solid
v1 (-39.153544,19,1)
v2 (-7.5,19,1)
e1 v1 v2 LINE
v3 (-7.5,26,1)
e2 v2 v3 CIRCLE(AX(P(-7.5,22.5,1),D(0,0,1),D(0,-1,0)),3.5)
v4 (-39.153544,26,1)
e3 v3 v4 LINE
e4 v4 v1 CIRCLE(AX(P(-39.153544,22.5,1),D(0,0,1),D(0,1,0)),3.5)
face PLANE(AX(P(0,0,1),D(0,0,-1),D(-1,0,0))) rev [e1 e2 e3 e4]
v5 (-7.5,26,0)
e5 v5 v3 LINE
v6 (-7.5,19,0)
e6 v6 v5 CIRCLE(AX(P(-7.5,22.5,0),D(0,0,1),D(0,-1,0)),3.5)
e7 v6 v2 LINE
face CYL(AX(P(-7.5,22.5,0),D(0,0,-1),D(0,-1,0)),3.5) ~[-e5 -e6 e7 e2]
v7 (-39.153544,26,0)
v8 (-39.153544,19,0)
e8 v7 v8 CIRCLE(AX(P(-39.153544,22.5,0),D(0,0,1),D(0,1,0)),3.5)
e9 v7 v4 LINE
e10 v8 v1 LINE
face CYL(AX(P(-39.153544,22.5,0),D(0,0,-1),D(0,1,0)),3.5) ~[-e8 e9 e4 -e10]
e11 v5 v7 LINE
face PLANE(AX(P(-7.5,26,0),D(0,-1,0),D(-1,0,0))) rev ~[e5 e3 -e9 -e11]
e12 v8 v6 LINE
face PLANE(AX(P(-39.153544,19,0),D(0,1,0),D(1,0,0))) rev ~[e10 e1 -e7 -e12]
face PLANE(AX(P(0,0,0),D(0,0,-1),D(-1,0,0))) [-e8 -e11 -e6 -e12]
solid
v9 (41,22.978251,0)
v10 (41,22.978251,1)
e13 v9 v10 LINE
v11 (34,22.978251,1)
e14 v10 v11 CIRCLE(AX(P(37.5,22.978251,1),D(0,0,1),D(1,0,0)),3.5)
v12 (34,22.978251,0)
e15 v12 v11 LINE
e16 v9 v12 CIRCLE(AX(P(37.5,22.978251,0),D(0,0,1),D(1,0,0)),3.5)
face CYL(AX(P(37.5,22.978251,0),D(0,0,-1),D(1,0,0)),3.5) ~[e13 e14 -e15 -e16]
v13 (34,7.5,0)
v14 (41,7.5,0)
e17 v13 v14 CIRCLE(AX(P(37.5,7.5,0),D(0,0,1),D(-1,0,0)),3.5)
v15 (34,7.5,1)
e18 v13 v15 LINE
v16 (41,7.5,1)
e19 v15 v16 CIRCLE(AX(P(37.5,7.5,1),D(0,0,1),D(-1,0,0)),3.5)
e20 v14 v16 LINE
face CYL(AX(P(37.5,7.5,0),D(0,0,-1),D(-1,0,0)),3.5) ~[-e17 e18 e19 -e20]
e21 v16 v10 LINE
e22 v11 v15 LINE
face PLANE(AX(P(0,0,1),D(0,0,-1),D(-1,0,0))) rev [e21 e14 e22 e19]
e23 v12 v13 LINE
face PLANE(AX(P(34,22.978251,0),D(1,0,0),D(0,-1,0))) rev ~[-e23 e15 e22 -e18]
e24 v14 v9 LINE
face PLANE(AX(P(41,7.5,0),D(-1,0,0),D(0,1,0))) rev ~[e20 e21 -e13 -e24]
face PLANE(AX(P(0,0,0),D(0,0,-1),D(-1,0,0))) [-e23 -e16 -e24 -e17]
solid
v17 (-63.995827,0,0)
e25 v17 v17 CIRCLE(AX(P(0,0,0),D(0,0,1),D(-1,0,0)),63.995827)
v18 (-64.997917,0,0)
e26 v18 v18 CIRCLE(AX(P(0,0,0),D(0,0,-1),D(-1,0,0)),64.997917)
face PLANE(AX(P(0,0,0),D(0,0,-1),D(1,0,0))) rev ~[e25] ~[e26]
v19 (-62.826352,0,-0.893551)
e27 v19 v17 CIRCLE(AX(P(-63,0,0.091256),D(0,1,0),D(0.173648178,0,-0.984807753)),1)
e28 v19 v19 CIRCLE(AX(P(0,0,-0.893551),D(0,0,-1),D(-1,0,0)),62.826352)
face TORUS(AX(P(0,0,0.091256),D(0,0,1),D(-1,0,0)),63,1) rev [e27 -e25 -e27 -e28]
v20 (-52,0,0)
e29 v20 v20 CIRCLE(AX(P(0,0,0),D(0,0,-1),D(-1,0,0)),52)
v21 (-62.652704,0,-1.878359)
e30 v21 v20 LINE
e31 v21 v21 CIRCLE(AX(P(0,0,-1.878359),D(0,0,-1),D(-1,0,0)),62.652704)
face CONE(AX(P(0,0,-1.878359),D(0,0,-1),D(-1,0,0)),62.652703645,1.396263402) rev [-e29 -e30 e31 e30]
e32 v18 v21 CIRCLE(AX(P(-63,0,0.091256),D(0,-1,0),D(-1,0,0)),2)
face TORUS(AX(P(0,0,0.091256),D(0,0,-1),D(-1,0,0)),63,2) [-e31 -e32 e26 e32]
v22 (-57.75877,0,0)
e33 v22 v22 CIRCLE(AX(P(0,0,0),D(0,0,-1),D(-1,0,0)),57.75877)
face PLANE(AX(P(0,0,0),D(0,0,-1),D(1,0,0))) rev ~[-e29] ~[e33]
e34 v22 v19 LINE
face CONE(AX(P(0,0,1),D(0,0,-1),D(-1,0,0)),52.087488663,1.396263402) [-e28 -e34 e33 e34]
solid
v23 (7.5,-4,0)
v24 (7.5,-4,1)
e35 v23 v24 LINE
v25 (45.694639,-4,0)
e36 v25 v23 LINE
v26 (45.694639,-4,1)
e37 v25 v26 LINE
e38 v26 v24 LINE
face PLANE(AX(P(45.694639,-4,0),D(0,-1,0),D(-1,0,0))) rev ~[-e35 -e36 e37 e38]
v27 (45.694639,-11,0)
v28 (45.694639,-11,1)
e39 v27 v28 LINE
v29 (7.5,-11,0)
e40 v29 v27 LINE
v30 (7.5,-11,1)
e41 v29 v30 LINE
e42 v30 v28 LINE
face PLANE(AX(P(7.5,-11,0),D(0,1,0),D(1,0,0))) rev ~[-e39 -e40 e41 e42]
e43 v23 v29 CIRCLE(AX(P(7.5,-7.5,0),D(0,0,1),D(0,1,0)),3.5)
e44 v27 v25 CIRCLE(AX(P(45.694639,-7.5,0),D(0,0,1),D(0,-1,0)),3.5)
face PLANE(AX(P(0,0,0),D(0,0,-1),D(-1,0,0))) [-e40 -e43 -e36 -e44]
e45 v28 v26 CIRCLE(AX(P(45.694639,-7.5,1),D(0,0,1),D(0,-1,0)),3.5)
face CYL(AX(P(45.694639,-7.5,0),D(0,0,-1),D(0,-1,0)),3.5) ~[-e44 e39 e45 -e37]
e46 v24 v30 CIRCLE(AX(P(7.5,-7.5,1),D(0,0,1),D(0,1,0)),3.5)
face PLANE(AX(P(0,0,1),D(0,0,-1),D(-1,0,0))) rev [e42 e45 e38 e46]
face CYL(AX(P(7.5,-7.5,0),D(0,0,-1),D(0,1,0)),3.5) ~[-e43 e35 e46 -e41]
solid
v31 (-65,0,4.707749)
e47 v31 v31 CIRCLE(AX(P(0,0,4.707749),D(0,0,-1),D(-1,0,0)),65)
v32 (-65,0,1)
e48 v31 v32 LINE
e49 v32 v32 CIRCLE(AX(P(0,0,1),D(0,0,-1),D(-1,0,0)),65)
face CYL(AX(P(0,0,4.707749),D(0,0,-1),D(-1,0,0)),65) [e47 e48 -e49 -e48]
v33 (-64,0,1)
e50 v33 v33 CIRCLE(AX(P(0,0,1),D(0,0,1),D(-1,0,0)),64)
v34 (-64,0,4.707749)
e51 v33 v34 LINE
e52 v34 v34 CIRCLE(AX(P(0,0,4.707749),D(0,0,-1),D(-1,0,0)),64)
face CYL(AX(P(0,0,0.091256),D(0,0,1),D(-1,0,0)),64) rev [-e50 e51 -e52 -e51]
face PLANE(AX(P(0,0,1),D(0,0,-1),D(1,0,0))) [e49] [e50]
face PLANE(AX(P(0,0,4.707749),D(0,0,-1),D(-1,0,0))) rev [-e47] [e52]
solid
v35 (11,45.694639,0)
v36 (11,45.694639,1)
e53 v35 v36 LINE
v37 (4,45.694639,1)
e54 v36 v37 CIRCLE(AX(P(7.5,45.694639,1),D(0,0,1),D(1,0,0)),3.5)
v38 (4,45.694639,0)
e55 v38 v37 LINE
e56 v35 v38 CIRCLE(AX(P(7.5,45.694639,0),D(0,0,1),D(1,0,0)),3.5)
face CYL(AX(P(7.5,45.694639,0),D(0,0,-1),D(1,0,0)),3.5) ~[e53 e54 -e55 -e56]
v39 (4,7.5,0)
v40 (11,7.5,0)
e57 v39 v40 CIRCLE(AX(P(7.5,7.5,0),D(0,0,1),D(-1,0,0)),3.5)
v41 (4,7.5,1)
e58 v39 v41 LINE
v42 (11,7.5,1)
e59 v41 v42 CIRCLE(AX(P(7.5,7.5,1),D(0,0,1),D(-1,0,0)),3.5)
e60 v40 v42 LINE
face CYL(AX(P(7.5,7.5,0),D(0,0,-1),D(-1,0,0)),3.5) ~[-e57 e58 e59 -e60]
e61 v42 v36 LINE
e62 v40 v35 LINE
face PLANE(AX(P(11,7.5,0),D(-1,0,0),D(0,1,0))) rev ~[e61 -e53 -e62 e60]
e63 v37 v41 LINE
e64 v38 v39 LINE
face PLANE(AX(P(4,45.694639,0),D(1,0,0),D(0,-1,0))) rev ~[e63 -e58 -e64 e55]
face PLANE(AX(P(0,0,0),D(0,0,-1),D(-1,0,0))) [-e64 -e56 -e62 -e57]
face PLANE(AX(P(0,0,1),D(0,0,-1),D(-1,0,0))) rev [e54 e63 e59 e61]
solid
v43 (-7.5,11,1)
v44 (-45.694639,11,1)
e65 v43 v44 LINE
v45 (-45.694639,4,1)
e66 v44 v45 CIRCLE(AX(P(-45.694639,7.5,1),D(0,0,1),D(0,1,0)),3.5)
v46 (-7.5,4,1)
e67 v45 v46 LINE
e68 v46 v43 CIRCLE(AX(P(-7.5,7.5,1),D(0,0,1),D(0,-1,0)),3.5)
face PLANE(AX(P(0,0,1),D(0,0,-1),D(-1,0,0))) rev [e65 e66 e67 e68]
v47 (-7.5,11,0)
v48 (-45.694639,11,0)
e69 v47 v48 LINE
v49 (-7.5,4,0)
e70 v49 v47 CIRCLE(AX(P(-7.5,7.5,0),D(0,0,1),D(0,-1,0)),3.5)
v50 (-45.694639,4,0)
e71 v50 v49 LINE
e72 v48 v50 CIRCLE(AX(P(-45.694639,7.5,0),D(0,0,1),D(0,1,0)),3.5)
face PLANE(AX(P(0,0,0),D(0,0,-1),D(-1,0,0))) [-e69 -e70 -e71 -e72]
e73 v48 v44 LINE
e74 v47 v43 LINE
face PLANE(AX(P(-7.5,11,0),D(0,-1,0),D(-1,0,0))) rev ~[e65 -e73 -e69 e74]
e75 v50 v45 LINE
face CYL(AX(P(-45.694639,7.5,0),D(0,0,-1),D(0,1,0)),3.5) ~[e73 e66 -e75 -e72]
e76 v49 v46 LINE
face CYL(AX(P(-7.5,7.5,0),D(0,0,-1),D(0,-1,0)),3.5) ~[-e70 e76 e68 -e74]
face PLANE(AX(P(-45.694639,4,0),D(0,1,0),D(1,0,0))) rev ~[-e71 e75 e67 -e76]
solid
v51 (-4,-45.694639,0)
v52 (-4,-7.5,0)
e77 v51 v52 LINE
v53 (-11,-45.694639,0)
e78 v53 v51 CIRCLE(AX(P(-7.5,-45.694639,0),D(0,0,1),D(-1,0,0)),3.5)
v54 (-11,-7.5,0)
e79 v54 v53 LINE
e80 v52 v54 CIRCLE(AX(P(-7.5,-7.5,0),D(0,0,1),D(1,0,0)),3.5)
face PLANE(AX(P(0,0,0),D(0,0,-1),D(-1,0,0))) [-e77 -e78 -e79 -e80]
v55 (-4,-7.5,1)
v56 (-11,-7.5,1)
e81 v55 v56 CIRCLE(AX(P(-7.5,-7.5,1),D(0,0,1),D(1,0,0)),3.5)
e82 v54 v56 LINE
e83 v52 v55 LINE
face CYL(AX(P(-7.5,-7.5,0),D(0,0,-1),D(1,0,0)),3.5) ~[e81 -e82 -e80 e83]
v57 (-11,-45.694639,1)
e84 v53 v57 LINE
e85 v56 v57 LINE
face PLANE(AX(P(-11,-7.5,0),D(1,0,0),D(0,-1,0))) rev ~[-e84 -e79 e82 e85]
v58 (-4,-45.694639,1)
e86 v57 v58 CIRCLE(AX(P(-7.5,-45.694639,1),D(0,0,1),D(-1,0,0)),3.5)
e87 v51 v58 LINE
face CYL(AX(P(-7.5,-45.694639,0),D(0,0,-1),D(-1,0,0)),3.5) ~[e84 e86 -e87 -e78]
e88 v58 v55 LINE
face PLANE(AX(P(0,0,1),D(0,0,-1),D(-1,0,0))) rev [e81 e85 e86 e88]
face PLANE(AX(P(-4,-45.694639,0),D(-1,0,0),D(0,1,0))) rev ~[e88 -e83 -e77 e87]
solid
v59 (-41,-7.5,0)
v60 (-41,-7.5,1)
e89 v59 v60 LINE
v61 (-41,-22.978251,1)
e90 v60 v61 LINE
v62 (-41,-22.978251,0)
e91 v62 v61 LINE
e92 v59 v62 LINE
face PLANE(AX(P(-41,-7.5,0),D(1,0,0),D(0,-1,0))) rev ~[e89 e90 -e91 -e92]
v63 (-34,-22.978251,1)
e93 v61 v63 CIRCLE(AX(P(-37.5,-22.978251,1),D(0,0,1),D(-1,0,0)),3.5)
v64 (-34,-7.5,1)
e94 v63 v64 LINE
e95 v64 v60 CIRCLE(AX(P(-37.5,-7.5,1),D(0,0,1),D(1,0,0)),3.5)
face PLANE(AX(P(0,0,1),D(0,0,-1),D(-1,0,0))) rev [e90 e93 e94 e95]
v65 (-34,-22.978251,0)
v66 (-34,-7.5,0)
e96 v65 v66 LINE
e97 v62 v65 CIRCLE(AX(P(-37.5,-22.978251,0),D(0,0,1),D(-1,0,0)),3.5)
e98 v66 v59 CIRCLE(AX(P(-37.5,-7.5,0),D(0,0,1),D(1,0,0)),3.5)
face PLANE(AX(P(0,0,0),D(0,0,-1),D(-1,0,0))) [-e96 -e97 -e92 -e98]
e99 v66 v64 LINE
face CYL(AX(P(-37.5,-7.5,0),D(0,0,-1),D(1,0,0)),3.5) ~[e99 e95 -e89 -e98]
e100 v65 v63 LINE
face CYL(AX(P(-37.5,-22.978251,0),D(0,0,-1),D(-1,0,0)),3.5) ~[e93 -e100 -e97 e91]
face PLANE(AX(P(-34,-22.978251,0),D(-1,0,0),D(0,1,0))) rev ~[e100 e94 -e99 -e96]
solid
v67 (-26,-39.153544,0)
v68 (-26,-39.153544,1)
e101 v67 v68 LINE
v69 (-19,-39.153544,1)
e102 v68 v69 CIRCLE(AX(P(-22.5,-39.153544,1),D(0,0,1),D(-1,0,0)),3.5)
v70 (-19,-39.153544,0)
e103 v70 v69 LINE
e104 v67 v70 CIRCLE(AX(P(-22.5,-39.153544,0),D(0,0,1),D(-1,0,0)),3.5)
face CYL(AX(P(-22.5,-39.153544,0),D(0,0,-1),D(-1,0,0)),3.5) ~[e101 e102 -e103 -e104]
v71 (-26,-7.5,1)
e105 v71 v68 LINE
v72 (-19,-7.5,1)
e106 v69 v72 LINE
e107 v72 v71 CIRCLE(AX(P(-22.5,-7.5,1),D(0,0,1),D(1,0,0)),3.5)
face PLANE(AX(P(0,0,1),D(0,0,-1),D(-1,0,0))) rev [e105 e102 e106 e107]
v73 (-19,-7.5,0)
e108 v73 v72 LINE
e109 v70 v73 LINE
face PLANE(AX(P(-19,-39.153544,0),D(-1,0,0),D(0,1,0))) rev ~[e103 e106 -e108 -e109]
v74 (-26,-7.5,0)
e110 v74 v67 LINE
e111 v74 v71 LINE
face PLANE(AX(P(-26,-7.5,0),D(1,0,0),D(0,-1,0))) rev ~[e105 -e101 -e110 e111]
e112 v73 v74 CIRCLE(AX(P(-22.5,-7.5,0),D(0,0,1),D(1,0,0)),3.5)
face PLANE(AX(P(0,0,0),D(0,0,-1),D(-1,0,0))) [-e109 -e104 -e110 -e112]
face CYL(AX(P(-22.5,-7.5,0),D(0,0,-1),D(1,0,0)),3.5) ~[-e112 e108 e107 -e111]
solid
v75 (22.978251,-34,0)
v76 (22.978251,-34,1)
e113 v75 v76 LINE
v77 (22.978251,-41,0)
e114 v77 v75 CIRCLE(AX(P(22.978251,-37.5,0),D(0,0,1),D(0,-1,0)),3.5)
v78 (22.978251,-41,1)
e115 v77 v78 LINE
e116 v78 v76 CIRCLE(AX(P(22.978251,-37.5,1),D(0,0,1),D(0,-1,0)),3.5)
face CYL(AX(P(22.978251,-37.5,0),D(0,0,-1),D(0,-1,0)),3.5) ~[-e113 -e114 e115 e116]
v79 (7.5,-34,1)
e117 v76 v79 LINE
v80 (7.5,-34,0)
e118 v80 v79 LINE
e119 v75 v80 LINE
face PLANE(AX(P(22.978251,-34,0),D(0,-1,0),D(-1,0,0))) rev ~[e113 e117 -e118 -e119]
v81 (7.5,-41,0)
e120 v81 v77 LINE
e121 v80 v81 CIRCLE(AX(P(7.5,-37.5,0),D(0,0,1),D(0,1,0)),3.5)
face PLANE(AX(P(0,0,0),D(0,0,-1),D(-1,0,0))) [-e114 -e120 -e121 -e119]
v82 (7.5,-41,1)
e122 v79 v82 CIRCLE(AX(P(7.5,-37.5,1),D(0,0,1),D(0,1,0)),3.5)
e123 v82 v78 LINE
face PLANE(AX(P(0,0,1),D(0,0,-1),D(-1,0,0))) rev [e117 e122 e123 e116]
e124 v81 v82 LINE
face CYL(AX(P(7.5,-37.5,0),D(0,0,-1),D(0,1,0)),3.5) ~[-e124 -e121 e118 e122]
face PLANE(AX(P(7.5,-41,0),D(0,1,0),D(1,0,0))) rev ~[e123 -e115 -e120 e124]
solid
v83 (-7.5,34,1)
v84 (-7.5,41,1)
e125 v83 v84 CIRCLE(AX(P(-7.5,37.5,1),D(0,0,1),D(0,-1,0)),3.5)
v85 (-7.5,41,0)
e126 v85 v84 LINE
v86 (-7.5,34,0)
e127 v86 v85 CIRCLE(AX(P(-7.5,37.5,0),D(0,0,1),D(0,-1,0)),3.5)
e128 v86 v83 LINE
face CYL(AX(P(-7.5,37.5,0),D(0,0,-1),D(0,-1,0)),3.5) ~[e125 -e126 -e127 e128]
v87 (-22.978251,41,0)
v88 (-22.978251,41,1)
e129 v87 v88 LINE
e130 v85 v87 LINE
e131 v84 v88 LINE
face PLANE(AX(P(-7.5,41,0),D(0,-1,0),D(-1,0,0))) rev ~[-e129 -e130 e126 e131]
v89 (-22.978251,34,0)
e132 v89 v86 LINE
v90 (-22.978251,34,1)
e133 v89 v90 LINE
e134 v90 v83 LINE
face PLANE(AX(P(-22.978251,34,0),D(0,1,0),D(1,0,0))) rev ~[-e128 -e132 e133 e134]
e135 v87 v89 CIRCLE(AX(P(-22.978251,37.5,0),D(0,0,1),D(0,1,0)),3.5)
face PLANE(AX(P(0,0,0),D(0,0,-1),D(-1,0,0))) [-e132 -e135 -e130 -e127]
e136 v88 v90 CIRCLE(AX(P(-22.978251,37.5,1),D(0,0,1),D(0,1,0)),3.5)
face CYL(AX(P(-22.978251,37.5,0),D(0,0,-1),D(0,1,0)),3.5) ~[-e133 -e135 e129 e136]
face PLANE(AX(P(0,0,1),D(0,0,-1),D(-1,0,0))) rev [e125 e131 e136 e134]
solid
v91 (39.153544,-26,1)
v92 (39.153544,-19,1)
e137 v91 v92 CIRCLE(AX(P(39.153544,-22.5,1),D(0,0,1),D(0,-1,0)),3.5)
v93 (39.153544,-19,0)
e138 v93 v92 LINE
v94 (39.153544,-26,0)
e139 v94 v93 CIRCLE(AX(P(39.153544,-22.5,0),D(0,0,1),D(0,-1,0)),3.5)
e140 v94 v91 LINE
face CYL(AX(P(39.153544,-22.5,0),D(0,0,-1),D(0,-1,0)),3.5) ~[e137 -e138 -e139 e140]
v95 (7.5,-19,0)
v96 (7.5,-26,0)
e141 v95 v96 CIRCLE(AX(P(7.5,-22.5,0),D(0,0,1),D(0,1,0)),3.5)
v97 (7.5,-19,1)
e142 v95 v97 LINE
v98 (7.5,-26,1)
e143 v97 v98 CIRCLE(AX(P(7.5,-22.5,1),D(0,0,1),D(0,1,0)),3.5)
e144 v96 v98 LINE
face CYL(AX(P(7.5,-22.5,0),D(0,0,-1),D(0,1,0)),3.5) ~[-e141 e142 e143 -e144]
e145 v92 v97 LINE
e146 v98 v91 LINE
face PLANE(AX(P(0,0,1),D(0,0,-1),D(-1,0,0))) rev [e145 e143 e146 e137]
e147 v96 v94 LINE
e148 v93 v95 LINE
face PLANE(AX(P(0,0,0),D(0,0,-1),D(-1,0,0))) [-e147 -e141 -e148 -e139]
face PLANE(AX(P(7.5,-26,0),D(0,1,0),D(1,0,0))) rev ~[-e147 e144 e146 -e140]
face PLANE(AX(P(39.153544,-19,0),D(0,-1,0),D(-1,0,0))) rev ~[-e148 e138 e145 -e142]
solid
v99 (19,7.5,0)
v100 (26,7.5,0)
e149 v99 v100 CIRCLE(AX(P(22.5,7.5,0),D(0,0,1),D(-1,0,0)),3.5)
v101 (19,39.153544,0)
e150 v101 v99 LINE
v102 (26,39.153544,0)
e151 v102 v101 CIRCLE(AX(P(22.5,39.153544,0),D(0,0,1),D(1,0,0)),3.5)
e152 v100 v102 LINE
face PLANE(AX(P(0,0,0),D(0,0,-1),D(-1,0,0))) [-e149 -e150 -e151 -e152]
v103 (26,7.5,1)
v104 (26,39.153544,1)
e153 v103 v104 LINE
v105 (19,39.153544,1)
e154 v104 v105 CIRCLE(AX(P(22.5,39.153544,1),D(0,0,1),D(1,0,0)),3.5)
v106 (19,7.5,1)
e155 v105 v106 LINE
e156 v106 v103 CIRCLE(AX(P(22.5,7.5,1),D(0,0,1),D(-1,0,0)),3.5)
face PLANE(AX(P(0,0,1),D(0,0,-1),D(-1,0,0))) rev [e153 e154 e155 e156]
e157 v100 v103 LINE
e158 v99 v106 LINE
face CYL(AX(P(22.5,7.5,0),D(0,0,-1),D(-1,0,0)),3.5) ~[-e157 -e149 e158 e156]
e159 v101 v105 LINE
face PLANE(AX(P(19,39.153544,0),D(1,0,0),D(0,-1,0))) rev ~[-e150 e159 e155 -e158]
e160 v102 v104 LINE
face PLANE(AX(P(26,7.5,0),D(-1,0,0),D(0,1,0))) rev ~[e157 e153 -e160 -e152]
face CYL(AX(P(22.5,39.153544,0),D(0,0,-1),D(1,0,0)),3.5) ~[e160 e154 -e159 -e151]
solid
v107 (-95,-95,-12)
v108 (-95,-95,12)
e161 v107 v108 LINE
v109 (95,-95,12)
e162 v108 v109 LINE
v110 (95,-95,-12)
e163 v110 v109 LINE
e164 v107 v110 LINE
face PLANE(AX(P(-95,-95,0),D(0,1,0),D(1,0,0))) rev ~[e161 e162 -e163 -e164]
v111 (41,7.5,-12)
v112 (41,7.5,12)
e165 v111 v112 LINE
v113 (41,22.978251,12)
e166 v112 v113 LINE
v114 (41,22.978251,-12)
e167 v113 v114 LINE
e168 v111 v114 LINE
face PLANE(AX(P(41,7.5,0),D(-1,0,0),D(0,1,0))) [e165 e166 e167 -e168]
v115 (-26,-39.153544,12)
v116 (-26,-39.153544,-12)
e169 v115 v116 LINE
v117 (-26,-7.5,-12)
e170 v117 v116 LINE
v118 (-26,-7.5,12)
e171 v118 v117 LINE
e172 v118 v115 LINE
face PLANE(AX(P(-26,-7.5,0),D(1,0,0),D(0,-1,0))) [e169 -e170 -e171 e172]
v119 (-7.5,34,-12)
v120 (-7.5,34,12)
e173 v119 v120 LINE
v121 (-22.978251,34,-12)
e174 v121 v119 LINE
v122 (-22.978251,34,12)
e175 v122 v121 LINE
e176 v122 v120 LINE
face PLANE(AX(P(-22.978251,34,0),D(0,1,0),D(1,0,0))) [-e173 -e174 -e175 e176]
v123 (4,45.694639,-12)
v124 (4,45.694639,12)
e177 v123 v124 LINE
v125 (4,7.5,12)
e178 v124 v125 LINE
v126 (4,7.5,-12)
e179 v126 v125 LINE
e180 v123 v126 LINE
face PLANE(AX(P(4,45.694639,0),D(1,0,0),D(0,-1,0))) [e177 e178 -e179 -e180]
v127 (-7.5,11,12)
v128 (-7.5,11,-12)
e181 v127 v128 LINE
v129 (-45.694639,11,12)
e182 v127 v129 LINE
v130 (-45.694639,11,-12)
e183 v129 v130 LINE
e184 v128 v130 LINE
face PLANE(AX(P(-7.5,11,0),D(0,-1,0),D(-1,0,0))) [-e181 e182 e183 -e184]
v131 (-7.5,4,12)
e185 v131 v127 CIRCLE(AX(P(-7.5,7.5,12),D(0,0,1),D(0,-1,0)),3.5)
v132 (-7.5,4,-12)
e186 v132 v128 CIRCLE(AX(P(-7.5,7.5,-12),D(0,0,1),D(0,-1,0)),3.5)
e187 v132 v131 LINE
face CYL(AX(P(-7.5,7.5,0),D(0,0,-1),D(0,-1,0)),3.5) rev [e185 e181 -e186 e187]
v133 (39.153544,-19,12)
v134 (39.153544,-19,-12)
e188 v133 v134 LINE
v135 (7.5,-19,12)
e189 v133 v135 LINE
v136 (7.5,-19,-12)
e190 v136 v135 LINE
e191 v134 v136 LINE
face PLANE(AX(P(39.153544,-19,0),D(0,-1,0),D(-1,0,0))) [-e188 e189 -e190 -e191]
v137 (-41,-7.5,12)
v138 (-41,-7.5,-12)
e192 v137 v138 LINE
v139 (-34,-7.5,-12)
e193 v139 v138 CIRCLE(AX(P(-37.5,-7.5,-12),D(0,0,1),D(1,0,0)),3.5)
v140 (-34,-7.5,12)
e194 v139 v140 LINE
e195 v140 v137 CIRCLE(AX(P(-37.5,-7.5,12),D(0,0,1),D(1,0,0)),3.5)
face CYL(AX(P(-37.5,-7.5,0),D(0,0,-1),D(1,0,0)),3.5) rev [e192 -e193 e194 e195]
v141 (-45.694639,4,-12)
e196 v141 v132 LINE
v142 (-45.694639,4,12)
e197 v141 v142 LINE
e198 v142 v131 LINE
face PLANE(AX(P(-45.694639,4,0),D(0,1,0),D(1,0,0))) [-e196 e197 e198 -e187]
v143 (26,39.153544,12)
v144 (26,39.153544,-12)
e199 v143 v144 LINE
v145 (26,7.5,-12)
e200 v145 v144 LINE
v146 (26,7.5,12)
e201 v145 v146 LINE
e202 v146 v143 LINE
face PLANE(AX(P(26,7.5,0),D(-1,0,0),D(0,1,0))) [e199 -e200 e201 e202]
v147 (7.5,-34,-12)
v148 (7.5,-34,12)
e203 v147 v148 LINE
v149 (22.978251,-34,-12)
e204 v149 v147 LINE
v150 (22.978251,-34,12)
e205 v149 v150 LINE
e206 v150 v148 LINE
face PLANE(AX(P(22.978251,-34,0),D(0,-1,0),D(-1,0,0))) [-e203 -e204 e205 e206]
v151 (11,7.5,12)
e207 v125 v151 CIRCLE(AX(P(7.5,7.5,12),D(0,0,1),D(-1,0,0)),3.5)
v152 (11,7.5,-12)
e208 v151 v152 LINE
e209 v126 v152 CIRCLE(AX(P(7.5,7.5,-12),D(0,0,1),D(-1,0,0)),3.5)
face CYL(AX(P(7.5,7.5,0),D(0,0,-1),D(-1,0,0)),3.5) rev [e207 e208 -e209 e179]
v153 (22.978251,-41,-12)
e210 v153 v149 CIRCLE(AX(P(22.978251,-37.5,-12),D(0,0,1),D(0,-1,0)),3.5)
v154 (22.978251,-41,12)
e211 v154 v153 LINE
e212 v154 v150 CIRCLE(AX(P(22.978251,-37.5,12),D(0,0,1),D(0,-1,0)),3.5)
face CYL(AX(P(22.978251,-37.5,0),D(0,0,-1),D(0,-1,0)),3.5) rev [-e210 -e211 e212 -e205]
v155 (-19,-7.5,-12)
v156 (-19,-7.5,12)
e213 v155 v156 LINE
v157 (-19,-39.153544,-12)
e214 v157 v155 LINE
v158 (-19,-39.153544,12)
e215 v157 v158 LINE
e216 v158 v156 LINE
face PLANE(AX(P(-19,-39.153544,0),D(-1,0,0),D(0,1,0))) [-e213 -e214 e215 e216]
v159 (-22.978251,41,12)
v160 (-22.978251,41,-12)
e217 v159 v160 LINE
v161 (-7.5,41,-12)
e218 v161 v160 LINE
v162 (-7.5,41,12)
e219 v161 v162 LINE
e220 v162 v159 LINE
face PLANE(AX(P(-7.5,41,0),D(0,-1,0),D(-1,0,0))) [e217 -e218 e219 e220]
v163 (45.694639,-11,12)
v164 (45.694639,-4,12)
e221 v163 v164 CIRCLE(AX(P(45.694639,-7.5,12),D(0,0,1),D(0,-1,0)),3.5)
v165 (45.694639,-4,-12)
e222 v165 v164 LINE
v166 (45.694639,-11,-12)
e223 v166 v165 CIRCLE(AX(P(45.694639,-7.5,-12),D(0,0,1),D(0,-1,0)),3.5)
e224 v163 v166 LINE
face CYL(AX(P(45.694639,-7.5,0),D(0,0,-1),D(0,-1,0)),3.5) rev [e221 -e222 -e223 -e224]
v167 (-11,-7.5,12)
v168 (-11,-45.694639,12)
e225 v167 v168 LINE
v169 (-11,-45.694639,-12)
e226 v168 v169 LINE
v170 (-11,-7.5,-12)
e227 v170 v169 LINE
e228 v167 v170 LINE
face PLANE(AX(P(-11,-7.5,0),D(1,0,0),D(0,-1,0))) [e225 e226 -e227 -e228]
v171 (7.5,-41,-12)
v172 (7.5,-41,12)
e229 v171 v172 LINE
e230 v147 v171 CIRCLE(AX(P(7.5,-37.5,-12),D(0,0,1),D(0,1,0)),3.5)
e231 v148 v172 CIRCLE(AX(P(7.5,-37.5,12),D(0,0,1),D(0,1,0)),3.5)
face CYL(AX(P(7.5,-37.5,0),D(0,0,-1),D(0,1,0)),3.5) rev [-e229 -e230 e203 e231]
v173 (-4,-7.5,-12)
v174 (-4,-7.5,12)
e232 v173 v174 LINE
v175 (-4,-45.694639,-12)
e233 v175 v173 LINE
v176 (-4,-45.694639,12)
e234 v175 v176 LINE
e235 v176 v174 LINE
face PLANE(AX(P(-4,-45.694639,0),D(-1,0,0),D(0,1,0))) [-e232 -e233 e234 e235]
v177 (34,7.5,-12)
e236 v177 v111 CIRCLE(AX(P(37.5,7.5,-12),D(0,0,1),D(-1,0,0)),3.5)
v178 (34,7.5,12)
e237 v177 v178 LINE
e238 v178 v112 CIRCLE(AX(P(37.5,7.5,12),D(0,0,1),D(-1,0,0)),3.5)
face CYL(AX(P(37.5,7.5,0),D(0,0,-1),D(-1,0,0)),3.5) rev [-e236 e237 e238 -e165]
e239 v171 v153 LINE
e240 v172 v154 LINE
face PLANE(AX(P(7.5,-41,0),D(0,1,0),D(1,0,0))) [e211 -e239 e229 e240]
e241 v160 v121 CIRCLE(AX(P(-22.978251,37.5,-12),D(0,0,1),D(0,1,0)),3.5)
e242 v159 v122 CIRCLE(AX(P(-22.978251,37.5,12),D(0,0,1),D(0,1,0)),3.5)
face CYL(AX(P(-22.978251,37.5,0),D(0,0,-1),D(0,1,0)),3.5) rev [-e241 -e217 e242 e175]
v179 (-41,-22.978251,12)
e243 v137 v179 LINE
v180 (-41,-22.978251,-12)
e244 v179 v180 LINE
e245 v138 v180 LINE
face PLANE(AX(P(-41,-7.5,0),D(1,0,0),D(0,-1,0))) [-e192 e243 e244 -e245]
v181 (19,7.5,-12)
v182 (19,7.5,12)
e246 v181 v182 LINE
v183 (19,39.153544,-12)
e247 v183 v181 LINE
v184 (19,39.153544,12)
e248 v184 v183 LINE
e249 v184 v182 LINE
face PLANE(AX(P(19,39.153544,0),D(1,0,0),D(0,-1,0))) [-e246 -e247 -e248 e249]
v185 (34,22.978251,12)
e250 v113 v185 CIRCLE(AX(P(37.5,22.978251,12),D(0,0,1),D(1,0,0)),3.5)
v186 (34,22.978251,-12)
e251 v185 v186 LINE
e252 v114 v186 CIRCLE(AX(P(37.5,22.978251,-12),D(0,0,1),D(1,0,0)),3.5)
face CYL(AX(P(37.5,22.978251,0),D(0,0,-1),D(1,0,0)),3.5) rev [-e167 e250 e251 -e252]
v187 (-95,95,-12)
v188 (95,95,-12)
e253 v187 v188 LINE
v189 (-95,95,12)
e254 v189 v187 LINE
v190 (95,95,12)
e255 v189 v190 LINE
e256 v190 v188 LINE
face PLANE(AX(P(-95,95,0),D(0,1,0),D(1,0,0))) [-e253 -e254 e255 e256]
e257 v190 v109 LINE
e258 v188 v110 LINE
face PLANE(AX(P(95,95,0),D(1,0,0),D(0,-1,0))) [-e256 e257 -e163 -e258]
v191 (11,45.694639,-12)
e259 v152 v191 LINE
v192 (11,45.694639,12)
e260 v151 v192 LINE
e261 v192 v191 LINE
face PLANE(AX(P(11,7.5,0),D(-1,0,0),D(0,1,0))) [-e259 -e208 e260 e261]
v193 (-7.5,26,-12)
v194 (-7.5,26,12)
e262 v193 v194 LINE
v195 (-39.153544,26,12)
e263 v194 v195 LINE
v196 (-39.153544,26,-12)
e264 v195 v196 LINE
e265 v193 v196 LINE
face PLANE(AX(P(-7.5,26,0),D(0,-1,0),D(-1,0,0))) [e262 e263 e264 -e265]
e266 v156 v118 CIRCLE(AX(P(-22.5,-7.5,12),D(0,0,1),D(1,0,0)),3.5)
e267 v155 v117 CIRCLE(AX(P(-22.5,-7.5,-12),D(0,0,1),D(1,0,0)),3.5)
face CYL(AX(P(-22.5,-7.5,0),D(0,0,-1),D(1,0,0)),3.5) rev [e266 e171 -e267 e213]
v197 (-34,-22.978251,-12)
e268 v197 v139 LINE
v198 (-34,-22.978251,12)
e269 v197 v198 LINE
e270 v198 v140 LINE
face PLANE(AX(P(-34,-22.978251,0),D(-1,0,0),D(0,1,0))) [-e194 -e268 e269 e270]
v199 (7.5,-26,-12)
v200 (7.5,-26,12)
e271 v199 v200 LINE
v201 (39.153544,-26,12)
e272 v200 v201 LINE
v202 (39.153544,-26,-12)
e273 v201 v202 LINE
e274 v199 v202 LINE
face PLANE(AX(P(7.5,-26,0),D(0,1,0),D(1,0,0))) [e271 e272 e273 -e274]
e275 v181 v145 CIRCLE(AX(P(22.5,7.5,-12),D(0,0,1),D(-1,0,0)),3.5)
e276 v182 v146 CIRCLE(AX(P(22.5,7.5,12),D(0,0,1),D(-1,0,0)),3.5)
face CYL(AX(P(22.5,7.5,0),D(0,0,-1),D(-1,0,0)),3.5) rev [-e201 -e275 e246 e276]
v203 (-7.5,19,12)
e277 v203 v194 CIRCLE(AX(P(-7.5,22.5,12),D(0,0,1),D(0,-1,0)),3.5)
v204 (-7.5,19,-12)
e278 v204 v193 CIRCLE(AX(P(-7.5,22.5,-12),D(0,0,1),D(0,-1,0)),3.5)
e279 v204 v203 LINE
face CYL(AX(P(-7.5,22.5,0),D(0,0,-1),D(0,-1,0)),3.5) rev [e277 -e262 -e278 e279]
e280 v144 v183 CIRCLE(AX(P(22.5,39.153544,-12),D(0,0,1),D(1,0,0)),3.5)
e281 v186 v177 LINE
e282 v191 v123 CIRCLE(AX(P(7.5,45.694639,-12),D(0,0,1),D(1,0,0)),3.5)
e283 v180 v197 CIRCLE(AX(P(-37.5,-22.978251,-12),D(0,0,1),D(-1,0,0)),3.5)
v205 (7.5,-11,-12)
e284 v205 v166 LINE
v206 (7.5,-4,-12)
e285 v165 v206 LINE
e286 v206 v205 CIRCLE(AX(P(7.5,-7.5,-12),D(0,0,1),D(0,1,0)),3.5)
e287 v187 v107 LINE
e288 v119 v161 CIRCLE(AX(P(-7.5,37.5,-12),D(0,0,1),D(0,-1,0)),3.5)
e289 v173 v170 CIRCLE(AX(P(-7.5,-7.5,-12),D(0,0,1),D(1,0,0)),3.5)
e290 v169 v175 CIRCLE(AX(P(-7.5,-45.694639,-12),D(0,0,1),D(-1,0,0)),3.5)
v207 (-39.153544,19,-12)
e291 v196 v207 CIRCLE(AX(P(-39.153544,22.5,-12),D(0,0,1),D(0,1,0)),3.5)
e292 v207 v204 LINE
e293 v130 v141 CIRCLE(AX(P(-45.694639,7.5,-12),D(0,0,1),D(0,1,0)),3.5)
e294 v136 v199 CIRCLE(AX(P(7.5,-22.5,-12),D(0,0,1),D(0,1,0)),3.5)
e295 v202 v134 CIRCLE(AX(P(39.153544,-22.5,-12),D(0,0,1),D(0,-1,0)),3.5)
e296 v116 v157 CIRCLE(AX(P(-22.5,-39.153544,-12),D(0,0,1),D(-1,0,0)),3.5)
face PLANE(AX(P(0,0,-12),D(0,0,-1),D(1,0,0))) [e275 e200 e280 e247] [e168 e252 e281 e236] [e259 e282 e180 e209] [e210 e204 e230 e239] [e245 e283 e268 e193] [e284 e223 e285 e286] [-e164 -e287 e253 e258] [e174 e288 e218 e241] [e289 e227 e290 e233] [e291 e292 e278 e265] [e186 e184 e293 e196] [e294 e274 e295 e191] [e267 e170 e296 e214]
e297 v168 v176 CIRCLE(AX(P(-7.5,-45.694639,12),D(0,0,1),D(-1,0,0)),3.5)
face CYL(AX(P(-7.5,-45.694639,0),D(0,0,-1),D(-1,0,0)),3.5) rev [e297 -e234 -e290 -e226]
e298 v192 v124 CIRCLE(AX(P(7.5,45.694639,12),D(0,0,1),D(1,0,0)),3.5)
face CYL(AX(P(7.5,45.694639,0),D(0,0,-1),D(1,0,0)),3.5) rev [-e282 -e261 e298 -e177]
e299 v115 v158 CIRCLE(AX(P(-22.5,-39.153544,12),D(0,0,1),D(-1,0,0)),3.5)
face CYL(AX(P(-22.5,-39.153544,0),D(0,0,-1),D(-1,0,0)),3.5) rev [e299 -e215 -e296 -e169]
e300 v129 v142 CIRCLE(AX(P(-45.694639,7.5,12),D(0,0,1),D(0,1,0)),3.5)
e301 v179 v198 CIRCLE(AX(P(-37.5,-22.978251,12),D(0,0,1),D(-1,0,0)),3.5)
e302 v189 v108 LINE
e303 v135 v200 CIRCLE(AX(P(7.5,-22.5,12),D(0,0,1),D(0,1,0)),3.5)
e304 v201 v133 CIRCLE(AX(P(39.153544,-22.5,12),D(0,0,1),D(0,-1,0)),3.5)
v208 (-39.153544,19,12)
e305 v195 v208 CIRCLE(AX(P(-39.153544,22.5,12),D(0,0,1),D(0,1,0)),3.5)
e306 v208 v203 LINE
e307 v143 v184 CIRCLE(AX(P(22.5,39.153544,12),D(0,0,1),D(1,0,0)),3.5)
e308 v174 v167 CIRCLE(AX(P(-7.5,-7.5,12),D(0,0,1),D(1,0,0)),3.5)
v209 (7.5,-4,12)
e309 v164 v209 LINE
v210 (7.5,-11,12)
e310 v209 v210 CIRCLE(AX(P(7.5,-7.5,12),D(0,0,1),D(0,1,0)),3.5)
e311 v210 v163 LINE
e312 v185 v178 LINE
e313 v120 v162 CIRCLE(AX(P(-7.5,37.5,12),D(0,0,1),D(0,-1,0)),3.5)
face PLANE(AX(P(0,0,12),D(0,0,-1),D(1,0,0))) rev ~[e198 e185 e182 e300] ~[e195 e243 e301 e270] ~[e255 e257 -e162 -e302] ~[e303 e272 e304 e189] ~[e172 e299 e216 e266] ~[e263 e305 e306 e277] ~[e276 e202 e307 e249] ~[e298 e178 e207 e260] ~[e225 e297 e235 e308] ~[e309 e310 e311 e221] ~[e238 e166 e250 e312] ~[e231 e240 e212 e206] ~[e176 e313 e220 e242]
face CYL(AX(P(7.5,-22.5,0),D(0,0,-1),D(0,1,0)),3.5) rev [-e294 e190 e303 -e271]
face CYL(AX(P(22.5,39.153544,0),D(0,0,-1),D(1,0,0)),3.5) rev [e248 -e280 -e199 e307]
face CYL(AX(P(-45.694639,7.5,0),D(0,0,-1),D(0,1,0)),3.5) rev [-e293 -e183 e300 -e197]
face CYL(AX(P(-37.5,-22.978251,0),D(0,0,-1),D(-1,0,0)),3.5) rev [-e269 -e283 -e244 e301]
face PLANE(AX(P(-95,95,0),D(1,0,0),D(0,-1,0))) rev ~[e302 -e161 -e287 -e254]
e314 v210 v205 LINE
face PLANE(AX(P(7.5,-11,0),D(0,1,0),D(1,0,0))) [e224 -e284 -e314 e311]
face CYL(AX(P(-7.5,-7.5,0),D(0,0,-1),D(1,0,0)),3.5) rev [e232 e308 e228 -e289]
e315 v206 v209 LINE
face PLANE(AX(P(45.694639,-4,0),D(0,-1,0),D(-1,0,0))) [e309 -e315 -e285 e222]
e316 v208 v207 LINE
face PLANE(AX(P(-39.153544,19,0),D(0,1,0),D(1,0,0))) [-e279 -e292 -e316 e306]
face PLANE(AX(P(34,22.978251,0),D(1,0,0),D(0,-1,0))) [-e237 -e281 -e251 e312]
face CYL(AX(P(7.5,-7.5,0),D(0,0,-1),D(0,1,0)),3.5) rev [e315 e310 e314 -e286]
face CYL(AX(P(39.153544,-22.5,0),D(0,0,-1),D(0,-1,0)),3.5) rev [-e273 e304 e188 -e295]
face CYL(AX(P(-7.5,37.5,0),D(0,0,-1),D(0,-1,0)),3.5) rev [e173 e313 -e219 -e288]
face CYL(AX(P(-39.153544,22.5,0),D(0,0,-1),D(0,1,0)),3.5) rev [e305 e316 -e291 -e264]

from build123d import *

# Parameters (mm, degrees)
F6_W     = 190
F6_H     = 190
F7_DEPTH = 1
F8_DEPTH = 12


with BuildPart() as f2:
    # F0 (on Top) → F2 (revolve)
    with BuildSketch(Plane.XY):
        Polygon((20.4473696649, 3.5921053495), (20.4473696649, 0), (50.5868457019, 0), (50.5868457019, 2.7842106991), (49.9868457019, 2.7842106991), (49.9868457019, 0.6), (21.0473696649, 0.6), (21.0473696649, 4.1921053495), (16.9026321679, 4.1921053495), (16.9026321679, 8.0605266564), (12.1578937396, 8.0605266564), (12.1578937396, 7.4605266564), (16.3026321679, 7.4605266564), (16.3026321679, 3.5921053495), align=None)
    revolve(axis=Axis((0, 5.4080549162, 0), (0, -1, 0)))


with BuildPart() as f5:
    # F4 (on Front) → F5 (revolve)
    with BuildSketch(Plane.XZ):
        with BuildLine():
            Line((-62.6527036447, -1.87835907), (-52, 0))
            Line((-52, 0), (0, 0))
            Line((0, 0), (0, 1))
            Line((0, 1), (-52.0874886635, 1))
            Line((-52.0874886635, 1), (-62.8263518223, -0.893551317))
            ThreePointArc((-62.8263518223, -0.893551317), (-63.6427876097, -0.6747880071), (-64, 0.091256436))
            Line((-64, 0.091256436), (-64, 4.7077492508))
            Line((-64, 4.7077492508), (-65, 4.7077492508))
            Line((-65, 4.7077492508), (-65, 0.091256436))
            ThreePointArc((-65, 0.091256436), (-64.2855752194, -1.4408324503), (-62.6527036447, -1.87835907))
        make_face()
    revolve(axis=Axis((0, 0, -2.1538473566), (0, 0, -1)))

    # F6 (on face) → F7 (cut)
    with BuildSketch(Plane(origin=(0, 0, 0), x_dir=(1, 0, 0), z_dir=(0, 0, -1))):
        Rectangle(F6_W, F6_H)
        with BuildLine():
            ThreePointArc((-22.9782505862, -41), (-26.4782505862, -37.5), (-22.9782505862, -34))
            Line((-22.9782505862, -34), (-7.5, -34))
            ThreePointArc((-7.5, -34), (-4, -37.5), (-7.5, -41))
            Line((-7.5, -41), (-22.9782505862, -41))
        make_face(mode=Mode.SUBTRACT)
        with BuildLine():
            Line((-7.5, -11), (-45.6946386352, -11))
            ThreePointArc((-45.6946386352, -11), (-49.1946386352, -7.5), (-45.6946386352, -4))
            Line((-45.6946386352, -4), (-7.5, -4))
            ThreePointArc((-7.5, -4), (-4, -7.5), (-7.5, -11))
        make_face(mode=Mode.SUBTRACT)
        with BuildLine():
            ThreePointArc((-39.1535439009, -26), (-42.6535439009, -22.5), (-39.1535439009, -19))
            Line((-39.1535439009, -19), (-7.5, -19))
            ThreePointArc((-7.5, -19), (-4, -22.5), (-7.5, -26))
            Line((-7.5, -26), (-39.1535439009, -26))
        make_face(mode=Mode.SUBTRACT)
        with BuildLine():
            Line((11, -7.5), (11, -45.6946386352))
            ThreePointArc((11, -45.6946386352), (7.5, -49.1946386352), (4, -45.6946386352))
            Line((4, -45.6946386352), (4, -7.5))
            ThreePointArc((4, -7.5), (7.5, -4), (11, -7.5))
        make_face(mode=Mode.SUBTRACT)
        with BuildLine():
            ThreePointArc((26, -39.1535439009), (22.5, -42.6535439009), (19, -39.1535439009))
            Line((19, -39.1535439009), (19, -7.5))
            ThreePointArc((19, -7.5), (22.5, -4), (26, -7.5))
            Line((26, -7.5), (26, -39.1535439009))
        make_face(mode=Mode.SUBTRACT)
        with BuildLine():
            ThreePointArc((41, -22.9782505862), (37.5, -26.4782505862), (34, -22.9782505862))
            Line((34, -22.9782505862), (34, -7.5))
            ThreePointArc((34, -7.5), (37.5, -4), (41, -7.5))
            Line((41, -7.5), (41, -22.9782505862))
        make_face(mode=Mode.SUBTRACT)
        with BuildLine():
            Line((-41, 7.5), (-41, 22.9782505862))
            ThreePointArc((-41, 22.9782505862), (-37.5, 26.4782505862), (-34, 22.9782505862))
            Line((-34, 22.9782505862), (-34, 7.5))
            ThreePointArc((-34, 7.5), (-37.5, 4), (-41, 7.5))
        make_face(mode=Mode.SUBTRACT)
        with BuildLine():
            Line((-26, 7.5), (-26, 39.1535439009))
            ThreePointArc((-26, 39.1535439009), (-22.5, 42.6535439009), (-19, 39.1535439009))
            Line((-19, 39.1535439009), (-19, 7.5))
            ThreePointArc((-19, 7.5), (-22.5, 4), (-26, 7.5))
        make_face(mode=Mode.SUBTRACT)
        with BuildLine():
            Line((-11, 7.5), (-11, 45.6946386352))
            ThreePointArc((-11, 45.6946386352), (-7.5, 49.1946386352), (-4, 45.6946386352))
            Line((-4, 45.6946386352), (-4, 7.5))
            ThreePointArc((-4, 7.5), (-7.5, 4), (-11, 7.5))
        make_face(mode=Mode.SUBTRACT)
        with BuildLine():
            ThreePointArc((39.1535439009, 26), (42.6535439009, 22.5), (39.1535439009, 19))
            Line((39.1535439009, 19), (7.5, 19))
            ThreePointArc((7.5, 19), (4, 22.5), (7.5, 26))
            Line((7.5, 26), (39.1535439009, 26))
        make_face(mode=Mode.SUBTRACT)
        with BuildLine():
            Line((7.5, 11), (45.6946386352, 11))
            ThreePointArc((45.6946386352, 11), (49.1946386352, 7.5), (45.6946386352, 4))
            Line((45.6946386352, 4), (7.5, 4))
            ThreePointArc((7.5, 4), (4, 7.5), (7.5, 11))
        make_face(mode=Mode.SUBTRACT)
        with BuildLine():
            ThreePointArc((22.9782505862, 41), (26.4782505862, 37.5), (22.9782505862, 34))
            Line((22.9782505862, 34), (7.5, 34))
            ThreePointArc((7.5, 34), (4, 37.5), (7.5, 41))
            Line((7.5, 41), (22.9782505862, 41))
        make_face(mode=Mode.SUBTRACT)
    extrude(amount=-F7_DEPTH, mode=Mode.SUBTRACT)


with BuildPart() as f8:
    # F6 (on face) → F8 (new body, symmetric)
    with BuildSketch(Plane(origin=(0, 0, 0), x_dir=(1, 0, 0), z_dir=(0, 0, -1))):
        Rectangle(F6_W, F6_H)
        with BuildLine():
            ThreePointArc((-22.9782505862, -41), (-26.4782505862, -37.5), (-22.9782505862, -34))
            Line((-22.9782505862, -34), (-7.5, -34))
            ThreePointArc((-7.5, -34), (-4, -37.5), (-7.5, -41))
            Line((-7.5, -41), (-22.9782505862, -41))
        make_face(mode=Mode.SUBTRACT)
        with BuildLine():
            Line((-7.5, -11), (-45.6946386352, -11))
            ThreePointArc((-45.6946386352, -11), (-49.1946386352, -7.5), (-45.6946386352, -4))
            Line((-45.6946386352, -4), (-7.5, -4))
            ThreePointArc((-7.5, -4), (-4, -7.5), (-7.5, -11))
        make_face(mode=Mode.SUBTRACT)
        with BuildLine():
            ThreePointArc((-39.1535439009, -26), (-42.6535439009, -22.5), (-39.1535439009, -19))
            Line((-39.1535439009, -19), (-7.5, -19))
            ThreePointArc((-7.5, -19), (-4, -22.5), (-7.5, -26))
            Line((-7.5, -26), (-39.1535439009, -26))
        make_face(mode=Mode.SUBTRACT)
        with BuildLine():
            Line((11, -7.5), (11, -45.6946386352))
            ThreePointArc((11, -45.6946386352), (7.5, -49.1946386352), (4, -45.6946386352))
            Line((4, -45.6946386352), (4, -7.5))
            ThreePointArc((4, -7.5), (7.5, -4), (11, -7.5))
        make_face(mode=Mode.SUBTRACT)
        with BuildLine():
            ThreePointArc((26, -39.1535439009), (22.5, -42.6535439009), (19, -39.1535439009))
            Line((19, -39.1535439009), (19, -7.5))
            ThreePointArc((19, -7.5), (22.5, -4), (26, -7.5))
            Line((26, -7.5), (26, -39.1535439009))
        make_face(mode=Mode.SUBTRACT)
        with BuildLine():
            ThreePointArc((41, -22.9782505862), (37.5, -26.4782505862), (34, -22.9782505862))
            Line((34, -22.9782505862), (34, -7.5))
            ThreePointArc((34, -7.5), (37.5, -4), (41, -7.5))
            Line((41, -7.5), (41, -22.9782505862))
        make_face(mode=Mode.SUBTRACT)
        with BuildLine():
            Line((-41, 7.5), (-41, 22.9782505862))
            ThreePointArc((-41, 22.9782505862), (-37.5, 26.4782505862), (-34, 22.9782505862))
            Line((-34, 22.9782505862), (-34, 7.5))
            ThreePointArc((-34, 7.5), (-37.5, 4), (-41, 7.5))
        make_face(mode=Mode.SUBTRACT)
        with BuildLine():
            Line((-26, 7.5), (-26, 39.1535439009))
            ThreePointArc((-26, 39.1535439009), (-22.5, 42.6535439009), (-19, 39.1535439009))
            Line((-19, 39.1535439009), (-19, 7.5))
            ThreePointArc((-19, 7.5), (-22.5, 4), (-26, 7.5))
        make_face(mode=Mode.SUBTRACT)
        with BuildLine():
            Line((-11, 7.5), (-11, 45.6946386352))
            ThreePointArc((-11, 45.6946386352), (-7.5, 49.1946386352), (-4, 45.6946386352))
            Line((-4, 45.6946386352), (-4, 7.5))
            ThreePointArc((-4, 7.5), (-7.5, 4), (-11, 7.5))
        make_face(mode=Mode.SUBTRACT)
        with BuildLine():
            ThreePointArc((39.1535439009, 26), (42.6535439009, 22.5), (39.1535439009, 19))
            Line((39.1535439009, 19), (7.5, 19))
            ThreePointArc((7.5, 19), (4, 22.5), (7.5, 26))
            Line((7.5, 26), (39.1535439009, 26))
        make_face(mode=Mode.SUBTRACT)
        with BuildLine():
            Line((7.5, 11), (45.6946386352, 11))
            ThreePointArc((45.6946386352, 11), (49.1946386352, 7.5), (45.6946386352, 4))
            Line((45.6946386352, 4), (7.5, 4))
            ThreePointArc((7.5, 4), (4, 7.5), (7.5, 11))
        make_face(mode=Mode.SUBTRACT)
        with BuildLine():
            ThreePointArc((22.9782505862, 41), (26.4782505862, 37.5), (22.9782505862, 34))
            Line((22.9782505862, 34), (7.5, 34))
            ThreePointArc((7.5, 34), (4, 37.5), (7.5, 41))
            Line((7.5, 41), (22.9782505862, 41))
        make_face(mode=Mode.SUBTRACT)
    extrude(amount=F8_DEPTH, both=True)


solid = Compound([f5.part, f8.part])
